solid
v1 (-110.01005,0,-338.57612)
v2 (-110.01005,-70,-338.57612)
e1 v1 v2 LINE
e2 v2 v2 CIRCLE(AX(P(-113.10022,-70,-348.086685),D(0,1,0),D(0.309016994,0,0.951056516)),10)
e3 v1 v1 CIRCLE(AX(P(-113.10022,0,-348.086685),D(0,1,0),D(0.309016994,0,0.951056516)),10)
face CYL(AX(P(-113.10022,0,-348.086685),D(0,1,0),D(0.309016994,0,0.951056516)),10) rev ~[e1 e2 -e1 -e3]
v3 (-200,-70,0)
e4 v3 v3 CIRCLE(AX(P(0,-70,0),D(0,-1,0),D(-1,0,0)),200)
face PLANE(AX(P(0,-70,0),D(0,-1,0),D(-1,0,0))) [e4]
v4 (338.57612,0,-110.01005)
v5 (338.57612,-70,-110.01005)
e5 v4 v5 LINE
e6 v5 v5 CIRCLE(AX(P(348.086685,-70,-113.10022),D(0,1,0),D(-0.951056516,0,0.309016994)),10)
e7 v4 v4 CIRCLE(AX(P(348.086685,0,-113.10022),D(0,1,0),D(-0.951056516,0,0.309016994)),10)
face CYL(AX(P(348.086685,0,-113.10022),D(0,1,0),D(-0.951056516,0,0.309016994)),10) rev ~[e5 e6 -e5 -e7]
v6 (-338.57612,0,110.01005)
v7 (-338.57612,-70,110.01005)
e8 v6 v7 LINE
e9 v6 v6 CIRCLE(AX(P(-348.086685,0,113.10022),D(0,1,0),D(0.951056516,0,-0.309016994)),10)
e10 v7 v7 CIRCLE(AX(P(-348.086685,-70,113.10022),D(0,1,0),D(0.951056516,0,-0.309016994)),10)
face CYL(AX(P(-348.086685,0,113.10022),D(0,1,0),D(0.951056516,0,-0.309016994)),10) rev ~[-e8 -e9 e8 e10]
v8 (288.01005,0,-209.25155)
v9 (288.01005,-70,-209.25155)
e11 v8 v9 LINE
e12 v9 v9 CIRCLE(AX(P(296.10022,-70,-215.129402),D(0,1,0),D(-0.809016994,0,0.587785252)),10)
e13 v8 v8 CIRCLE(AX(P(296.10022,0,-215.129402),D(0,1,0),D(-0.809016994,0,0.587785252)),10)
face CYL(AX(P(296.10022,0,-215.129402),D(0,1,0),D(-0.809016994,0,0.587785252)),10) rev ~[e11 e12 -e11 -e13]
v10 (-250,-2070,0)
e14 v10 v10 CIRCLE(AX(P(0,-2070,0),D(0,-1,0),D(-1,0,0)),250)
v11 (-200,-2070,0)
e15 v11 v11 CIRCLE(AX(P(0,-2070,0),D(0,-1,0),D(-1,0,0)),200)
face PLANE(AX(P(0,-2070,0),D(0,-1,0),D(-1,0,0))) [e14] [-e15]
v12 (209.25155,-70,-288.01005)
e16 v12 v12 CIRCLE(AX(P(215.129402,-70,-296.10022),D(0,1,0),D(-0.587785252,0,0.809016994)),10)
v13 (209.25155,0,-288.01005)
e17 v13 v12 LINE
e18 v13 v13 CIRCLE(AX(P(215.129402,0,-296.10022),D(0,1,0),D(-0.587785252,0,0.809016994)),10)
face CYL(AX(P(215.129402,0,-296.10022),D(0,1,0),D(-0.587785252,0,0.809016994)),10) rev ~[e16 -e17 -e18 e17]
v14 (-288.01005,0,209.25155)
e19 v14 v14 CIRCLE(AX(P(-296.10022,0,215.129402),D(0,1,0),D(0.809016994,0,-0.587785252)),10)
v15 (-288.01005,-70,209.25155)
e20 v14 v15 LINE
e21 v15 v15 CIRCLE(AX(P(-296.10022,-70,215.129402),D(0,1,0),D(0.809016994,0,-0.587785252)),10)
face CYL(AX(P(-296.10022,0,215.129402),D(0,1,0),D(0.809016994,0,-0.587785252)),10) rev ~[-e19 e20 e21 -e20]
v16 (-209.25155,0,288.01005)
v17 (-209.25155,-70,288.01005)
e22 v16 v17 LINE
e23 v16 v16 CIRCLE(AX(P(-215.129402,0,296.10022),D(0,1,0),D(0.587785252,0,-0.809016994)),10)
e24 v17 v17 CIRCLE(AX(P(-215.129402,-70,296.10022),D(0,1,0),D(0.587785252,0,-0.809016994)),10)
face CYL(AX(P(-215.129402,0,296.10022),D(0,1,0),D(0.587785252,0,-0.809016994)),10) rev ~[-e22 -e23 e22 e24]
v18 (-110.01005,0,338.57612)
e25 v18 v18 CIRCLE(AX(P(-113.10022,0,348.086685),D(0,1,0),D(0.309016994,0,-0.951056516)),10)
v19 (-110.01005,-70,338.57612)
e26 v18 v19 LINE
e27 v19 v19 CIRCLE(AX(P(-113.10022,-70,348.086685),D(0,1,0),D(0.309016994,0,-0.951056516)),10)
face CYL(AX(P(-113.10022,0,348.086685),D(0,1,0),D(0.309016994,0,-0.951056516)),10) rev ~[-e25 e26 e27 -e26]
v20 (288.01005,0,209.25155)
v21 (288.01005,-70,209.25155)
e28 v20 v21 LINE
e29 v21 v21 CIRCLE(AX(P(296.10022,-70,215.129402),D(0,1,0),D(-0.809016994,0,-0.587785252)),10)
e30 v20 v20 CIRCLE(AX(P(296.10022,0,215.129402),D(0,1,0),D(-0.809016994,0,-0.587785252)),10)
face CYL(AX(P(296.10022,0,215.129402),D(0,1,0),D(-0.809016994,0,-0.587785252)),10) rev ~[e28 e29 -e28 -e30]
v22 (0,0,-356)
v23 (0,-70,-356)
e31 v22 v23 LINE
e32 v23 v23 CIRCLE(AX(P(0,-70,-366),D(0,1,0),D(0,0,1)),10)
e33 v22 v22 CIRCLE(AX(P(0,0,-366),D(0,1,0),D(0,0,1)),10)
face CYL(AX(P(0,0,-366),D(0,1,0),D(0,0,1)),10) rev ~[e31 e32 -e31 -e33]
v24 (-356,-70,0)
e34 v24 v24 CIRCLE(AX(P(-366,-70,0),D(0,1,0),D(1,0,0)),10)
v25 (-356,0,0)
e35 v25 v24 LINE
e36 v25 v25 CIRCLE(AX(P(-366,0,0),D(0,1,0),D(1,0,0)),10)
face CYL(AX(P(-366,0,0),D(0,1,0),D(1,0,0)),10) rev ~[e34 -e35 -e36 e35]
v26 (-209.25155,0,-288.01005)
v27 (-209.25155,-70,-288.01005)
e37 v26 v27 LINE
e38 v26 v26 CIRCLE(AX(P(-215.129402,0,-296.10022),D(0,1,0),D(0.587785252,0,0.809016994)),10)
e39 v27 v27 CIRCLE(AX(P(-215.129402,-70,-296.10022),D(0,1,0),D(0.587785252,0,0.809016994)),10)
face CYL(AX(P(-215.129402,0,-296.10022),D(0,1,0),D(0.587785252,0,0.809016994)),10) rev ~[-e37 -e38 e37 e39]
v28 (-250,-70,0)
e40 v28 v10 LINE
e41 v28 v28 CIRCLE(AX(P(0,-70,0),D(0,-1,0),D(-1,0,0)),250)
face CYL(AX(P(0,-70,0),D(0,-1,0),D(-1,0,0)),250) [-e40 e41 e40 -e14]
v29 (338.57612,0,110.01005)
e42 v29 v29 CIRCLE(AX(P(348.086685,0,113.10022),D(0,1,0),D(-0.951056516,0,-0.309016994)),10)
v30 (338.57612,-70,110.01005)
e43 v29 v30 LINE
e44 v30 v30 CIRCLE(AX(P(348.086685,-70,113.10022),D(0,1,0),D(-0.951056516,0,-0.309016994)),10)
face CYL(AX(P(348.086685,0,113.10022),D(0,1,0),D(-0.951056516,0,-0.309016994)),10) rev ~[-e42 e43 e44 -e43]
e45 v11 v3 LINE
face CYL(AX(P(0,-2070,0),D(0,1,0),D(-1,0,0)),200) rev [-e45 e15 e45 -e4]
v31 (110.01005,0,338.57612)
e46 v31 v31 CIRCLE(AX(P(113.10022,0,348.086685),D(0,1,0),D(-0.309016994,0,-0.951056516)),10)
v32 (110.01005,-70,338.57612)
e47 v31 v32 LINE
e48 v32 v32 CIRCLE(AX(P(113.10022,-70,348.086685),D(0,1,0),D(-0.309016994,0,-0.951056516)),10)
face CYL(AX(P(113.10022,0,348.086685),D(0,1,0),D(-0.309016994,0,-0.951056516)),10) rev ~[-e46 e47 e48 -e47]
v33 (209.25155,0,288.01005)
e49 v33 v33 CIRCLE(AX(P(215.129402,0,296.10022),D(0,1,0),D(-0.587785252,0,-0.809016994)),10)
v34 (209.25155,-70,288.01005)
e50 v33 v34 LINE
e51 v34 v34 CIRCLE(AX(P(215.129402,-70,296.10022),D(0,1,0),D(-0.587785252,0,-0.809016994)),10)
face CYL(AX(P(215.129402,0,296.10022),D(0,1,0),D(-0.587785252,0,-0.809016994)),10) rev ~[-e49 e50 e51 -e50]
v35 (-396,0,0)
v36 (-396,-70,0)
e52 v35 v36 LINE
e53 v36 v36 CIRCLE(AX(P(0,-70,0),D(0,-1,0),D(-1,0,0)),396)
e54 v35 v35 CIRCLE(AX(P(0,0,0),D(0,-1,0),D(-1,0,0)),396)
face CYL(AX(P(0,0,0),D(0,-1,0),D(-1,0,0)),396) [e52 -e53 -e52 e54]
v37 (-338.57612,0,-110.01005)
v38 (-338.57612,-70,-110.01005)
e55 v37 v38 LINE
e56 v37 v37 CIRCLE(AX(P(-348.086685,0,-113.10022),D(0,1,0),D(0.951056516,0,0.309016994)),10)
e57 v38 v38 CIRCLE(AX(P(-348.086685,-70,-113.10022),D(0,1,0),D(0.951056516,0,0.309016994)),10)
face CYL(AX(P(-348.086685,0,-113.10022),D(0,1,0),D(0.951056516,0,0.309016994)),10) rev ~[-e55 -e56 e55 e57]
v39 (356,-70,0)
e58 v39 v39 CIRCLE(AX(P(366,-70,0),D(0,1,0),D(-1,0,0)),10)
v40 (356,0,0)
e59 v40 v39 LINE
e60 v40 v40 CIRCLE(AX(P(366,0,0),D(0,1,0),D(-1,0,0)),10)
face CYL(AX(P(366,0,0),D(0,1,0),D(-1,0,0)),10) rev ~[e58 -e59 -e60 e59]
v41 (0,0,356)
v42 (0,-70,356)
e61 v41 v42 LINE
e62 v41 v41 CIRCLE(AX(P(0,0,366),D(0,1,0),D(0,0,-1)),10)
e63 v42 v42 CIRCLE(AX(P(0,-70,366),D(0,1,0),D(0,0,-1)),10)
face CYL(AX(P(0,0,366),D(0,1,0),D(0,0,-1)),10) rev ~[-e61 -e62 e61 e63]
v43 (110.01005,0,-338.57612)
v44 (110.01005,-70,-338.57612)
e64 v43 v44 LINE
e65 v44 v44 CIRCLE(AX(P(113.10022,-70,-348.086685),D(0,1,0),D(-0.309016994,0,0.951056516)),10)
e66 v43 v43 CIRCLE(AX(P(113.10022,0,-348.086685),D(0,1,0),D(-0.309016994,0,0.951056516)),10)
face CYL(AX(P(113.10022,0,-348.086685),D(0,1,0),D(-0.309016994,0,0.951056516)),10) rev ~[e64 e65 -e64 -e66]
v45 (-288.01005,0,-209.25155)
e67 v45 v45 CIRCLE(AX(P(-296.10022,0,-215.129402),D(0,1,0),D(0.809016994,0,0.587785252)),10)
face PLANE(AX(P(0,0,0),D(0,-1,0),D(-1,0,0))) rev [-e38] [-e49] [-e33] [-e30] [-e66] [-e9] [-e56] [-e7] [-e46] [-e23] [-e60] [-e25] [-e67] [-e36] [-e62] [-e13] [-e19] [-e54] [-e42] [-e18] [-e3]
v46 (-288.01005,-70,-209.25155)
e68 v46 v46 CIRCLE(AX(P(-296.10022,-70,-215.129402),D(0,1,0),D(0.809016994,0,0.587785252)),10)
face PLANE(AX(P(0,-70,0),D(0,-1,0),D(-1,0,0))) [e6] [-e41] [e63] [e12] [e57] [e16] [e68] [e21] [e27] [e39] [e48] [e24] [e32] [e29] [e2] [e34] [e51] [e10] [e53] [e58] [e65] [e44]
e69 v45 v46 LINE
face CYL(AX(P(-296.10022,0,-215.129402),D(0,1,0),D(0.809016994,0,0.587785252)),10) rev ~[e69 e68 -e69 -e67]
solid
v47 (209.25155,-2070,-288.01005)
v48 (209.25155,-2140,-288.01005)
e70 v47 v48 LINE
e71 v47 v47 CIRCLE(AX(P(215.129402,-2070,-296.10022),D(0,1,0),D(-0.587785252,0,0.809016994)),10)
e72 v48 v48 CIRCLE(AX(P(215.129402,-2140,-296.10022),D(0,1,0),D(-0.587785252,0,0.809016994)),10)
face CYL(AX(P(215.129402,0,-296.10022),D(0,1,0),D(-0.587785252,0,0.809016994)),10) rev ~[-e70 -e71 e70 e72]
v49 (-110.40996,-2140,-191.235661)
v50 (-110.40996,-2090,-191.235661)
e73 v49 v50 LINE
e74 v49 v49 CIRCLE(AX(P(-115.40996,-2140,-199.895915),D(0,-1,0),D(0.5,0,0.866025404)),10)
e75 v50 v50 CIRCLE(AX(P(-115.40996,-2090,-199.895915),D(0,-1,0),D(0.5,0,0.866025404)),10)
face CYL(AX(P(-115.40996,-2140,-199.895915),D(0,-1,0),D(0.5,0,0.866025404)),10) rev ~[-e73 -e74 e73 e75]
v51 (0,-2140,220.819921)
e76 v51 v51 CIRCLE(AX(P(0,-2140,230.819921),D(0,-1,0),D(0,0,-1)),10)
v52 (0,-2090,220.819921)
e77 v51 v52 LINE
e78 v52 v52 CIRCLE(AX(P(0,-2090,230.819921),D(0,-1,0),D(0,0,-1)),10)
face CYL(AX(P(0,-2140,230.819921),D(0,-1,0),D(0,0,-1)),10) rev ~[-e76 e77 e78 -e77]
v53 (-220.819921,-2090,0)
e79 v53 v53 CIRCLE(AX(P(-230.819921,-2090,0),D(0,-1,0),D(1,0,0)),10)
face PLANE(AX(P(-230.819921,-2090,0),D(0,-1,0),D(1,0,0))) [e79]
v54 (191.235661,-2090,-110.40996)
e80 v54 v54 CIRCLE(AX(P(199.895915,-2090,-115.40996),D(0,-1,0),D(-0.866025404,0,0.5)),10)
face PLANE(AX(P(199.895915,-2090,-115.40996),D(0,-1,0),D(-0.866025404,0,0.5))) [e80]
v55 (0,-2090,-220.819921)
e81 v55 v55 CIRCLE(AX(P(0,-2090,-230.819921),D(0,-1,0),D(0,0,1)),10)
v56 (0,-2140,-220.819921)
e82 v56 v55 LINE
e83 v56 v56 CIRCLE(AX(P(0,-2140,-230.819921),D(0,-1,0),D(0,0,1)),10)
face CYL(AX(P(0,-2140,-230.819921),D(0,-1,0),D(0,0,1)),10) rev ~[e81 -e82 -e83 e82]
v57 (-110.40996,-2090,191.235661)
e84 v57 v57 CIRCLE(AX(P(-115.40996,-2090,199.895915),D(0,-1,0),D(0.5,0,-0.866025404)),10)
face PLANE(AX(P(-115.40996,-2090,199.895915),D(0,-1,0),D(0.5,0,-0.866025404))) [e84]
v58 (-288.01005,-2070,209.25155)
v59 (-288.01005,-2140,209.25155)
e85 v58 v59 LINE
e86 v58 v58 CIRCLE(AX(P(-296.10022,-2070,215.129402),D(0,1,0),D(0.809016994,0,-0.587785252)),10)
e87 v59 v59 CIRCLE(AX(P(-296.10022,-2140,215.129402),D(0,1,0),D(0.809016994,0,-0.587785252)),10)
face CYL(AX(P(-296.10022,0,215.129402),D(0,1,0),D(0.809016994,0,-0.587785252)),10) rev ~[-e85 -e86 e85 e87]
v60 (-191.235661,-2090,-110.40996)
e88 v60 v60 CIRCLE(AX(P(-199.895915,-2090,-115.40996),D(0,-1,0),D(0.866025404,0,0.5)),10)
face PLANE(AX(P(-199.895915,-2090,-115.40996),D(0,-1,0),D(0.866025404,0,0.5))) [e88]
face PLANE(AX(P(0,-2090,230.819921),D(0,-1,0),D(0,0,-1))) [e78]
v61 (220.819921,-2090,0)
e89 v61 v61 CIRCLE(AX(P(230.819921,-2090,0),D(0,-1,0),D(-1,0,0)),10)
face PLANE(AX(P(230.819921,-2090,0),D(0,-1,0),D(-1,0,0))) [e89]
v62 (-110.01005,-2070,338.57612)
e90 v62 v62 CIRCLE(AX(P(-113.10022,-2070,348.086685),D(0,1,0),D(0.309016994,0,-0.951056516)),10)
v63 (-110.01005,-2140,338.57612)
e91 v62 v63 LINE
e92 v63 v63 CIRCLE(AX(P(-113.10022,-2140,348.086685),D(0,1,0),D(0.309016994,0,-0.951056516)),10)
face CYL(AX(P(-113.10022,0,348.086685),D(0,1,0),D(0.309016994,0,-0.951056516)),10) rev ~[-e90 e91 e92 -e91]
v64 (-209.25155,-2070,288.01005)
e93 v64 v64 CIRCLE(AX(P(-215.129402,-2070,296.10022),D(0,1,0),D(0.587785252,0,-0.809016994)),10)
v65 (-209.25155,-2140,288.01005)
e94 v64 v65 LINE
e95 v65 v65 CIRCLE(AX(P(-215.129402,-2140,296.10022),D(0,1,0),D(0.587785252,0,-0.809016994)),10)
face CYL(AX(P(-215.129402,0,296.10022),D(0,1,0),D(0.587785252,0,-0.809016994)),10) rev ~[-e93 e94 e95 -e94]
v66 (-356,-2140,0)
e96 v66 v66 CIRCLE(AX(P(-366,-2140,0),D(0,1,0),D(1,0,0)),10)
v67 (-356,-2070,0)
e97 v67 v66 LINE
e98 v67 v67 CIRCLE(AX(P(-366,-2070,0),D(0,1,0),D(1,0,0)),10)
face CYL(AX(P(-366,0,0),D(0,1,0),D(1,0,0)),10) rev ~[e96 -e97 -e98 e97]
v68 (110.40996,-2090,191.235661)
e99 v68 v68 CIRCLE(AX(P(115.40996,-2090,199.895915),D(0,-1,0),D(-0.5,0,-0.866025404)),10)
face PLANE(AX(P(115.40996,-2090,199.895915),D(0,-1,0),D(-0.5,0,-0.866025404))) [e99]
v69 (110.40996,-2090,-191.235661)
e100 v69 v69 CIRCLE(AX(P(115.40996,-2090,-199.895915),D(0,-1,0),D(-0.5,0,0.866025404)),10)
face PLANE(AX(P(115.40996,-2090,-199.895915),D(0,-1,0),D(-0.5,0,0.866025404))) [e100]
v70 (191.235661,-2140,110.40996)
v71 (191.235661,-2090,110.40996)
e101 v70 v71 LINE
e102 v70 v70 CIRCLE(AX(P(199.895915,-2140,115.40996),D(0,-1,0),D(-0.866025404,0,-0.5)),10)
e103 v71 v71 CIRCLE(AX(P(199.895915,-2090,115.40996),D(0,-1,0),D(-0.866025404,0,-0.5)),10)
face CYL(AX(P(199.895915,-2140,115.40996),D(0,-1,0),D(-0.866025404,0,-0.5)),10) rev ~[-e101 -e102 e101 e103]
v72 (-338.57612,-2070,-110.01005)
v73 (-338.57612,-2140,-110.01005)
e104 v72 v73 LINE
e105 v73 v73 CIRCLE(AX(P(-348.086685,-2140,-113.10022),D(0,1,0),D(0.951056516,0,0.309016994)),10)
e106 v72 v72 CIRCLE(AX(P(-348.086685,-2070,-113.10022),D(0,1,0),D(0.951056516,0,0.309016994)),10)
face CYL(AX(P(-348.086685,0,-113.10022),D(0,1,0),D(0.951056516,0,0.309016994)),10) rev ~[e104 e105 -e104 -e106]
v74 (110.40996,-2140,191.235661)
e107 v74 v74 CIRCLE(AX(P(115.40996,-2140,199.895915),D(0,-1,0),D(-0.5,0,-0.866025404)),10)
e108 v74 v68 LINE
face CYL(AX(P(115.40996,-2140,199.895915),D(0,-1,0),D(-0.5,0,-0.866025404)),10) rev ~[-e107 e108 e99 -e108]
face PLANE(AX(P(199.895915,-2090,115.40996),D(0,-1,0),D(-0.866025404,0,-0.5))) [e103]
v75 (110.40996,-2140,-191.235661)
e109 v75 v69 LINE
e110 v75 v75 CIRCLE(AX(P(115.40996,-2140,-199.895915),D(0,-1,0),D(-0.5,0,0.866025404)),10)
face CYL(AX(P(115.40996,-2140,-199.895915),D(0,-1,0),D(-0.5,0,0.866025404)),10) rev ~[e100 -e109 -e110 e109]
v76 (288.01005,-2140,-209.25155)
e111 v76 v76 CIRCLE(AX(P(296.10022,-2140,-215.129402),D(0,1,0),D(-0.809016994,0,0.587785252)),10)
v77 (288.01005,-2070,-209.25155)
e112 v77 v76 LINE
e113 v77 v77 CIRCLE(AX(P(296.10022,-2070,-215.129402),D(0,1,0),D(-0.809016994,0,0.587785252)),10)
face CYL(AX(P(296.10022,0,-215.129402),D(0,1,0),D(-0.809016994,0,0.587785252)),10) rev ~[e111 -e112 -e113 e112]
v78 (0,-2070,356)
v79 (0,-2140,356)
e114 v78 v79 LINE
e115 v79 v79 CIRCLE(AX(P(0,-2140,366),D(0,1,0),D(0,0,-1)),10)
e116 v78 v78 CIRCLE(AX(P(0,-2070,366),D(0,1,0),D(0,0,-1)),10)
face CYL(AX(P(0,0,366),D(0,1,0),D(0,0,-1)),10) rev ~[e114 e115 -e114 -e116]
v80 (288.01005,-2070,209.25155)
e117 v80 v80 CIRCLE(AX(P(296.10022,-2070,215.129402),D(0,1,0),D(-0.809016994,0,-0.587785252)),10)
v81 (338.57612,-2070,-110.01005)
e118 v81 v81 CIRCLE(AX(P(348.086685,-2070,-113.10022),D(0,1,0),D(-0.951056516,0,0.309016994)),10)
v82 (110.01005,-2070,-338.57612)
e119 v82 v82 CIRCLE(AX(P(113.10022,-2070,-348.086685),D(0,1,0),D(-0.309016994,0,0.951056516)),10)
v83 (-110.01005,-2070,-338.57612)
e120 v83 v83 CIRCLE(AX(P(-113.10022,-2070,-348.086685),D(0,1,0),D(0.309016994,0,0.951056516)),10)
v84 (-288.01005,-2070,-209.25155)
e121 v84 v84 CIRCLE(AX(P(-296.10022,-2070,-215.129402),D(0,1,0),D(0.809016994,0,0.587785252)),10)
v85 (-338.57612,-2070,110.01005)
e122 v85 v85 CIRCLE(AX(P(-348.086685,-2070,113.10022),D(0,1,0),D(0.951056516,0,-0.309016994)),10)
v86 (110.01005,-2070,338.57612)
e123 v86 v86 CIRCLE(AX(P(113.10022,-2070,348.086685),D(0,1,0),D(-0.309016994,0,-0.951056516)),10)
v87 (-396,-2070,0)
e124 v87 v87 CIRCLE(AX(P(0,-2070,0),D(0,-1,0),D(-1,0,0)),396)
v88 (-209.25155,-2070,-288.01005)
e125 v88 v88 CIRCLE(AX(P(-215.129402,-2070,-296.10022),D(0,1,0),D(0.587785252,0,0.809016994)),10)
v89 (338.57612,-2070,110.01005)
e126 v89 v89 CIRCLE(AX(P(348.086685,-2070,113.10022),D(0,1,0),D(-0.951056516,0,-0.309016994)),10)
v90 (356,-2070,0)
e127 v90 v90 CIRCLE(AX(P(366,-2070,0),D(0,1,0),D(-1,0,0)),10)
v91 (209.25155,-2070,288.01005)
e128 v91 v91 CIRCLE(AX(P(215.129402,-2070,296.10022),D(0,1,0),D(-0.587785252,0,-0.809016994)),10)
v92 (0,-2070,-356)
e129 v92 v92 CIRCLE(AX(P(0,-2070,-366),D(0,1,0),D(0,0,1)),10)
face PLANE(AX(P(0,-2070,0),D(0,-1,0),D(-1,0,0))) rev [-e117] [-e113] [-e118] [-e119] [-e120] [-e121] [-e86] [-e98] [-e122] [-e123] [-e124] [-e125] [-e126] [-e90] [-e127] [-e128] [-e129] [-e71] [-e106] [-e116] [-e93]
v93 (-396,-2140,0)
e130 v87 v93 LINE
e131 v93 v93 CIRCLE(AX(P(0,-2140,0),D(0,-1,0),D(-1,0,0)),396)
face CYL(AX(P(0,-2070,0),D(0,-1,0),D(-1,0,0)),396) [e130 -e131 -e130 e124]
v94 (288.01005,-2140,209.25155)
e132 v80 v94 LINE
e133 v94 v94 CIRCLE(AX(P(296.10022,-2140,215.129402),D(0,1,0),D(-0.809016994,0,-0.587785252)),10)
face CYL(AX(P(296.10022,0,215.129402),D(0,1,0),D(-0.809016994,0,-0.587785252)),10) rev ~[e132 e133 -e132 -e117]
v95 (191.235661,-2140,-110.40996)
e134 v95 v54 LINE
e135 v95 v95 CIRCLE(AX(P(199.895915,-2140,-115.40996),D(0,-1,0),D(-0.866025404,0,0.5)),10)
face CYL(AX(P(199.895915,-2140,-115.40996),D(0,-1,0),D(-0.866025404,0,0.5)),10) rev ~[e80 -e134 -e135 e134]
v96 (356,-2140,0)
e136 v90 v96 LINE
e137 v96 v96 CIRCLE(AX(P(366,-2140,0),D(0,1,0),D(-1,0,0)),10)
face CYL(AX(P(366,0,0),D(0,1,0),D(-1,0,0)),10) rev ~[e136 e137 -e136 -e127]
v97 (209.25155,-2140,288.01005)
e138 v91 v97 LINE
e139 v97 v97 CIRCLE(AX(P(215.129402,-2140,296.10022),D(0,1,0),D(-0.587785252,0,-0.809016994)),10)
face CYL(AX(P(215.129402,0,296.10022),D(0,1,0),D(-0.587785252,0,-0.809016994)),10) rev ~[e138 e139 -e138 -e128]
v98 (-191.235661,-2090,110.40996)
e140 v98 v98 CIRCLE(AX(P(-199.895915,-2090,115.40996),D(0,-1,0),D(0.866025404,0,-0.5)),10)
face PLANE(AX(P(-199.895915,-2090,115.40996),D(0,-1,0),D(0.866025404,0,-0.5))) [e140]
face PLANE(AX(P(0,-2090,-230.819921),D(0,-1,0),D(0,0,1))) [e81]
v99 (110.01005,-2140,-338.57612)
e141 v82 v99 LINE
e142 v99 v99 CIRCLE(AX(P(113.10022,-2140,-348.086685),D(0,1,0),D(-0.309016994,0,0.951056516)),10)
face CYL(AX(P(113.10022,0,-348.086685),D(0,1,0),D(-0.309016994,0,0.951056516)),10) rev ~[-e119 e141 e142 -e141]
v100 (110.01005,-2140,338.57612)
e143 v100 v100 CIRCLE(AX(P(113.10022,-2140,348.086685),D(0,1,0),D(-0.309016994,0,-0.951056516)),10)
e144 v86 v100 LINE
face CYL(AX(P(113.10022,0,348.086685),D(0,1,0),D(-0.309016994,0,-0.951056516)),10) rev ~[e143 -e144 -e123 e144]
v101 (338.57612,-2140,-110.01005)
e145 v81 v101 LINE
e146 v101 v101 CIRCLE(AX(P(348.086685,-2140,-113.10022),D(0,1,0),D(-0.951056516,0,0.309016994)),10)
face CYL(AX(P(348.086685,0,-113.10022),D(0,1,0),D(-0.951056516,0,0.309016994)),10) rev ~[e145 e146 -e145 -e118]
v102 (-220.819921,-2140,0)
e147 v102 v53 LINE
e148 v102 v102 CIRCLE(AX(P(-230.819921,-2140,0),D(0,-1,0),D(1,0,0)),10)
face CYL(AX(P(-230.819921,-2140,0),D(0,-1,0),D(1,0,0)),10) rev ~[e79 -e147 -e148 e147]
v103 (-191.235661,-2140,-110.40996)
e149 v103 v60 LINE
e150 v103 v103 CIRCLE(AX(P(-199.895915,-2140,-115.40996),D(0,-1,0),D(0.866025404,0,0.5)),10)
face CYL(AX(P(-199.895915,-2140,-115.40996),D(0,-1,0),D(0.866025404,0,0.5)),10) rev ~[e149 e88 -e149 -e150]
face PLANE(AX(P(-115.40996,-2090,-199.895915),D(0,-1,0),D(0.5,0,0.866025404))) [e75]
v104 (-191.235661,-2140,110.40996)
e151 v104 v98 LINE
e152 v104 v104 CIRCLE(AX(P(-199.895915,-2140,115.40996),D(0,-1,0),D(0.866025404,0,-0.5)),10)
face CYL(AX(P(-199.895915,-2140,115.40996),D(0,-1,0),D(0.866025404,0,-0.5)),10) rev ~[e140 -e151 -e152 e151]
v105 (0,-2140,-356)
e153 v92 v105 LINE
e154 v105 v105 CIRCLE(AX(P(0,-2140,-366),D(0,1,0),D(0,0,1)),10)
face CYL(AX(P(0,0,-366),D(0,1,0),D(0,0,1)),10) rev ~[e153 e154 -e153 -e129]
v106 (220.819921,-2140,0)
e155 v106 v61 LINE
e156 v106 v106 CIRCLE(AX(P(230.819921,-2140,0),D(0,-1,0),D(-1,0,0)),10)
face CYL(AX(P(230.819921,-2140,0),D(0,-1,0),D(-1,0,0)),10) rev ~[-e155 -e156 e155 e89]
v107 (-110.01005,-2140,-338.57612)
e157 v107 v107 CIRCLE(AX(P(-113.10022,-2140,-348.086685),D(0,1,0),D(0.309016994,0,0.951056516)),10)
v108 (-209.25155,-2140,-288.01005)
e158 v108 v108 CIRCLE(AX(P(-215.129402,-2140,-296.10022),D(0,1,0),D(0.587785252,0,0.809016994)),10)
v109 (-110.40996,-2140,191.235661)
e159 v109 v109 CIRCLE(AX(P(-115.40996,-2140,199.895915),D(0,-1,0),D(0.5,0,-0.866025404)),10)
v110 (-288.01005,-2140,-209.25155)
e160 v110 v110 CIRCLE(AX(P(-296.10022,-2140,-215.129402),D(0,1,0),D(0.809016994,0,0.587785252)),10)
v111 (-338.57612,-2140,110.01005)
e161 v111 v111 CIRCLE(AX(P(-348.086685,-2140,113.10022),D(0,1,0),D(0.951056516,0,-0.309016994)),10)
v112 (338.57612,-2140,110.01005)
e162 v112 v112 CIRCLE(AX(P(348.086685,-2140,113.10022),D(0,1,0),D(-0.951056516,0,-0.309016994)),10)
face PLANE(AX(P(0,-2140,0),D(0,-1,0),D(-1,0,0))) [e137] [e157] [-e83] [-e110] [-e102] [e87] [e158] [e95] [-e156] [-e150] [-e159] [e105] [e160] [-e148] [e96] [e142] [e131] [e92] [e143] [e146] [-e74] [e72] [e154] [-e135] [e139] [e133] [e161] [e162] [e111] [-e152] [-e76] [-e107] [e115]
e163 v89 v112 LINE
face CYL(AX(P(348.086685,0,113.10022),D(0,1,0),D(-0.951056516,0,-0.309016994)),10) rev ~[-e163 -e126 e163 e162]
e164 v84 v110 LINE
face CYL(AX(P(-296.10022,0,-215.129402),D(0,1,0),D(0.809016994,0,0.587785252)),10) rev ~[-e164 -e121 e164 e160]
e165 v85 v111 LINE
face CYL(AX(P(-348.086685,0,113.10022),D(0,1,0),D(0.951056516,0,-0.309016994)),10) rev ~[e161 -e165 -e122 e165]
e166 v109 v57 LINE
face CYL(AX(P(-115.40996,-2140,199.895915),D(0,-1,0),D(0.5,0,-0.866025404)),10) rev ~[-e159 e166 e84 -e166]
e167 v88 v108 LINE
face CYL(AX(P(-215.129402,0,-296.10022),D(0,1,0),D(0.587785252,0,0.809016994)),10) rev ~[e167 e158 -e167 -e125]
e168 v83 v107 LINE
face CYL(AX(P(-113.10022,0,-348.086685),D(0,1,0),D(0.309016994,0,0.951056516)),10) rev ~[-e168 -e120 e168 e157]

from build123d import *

# Parameters (mm, degrees)
ESQUISSE2_R                  = 10
ENL_V_MAT_EXTRU_1_DEPTH      = 2213.0650985
R_P_TITION_CIRCULAIRE1_COUNT = 20
ESQUISSE4_R                  = 10
ENL_V_MAT_EXTRU_2_DEPTH      = 50
R_P_TITION_CIRCULAIRE2_COUNT = 12


with BuildPart() as part:
    # Esquisse1 → Révolution1 (revolve)
    with BuildSketch(Plane.XY, mode=Mode.PRIVATE) as r_volution1_sk:
        Polygon((0, 0), (396, 0), (396, -70), (250, -70), (250, -2070), (396, -2070), (396, -2140), (0, -2140), (0, -2070), (200, -2070), (200, -70), (0, -70), align=None)
    revolve(r_volution1_sk.sketch.rotate(Axis((0, 0, 0), (0, -1, 0)), 180), axis=Axis((0, 0, 0), (0, -1, 0)))

    # Esquisse2 → Enlèv. mat.-Extru.1 (cut, through all)
    with BuildSketch(Plane(origin=(0, 0, 0), x_dir=(1, 0, 0), z_dir=(0, 1, 0))):
        with Locations(Location((366, 0, 0), (0, 0, 180))):
            Circle(ESQUISSE2_R)
    enl_v_mat_extru_1 = extrude(amount=-ENL_V_MAT_EXTRU_1_DEPTH, mode=Mode.SUBTRACT)

    # Répétition circulaire1: Enlèv. mat.-Extru.1 ×20 about axis
    r_p_tition_circulaire1_axis = Axis((0, 0, 0), (0, 1, 0))
    for i in range(1, R_P_TITION_CIRCULAIRE1_COUNT):
        add(enl_v_mat_extru_1.rotate(r_p_tition_circulaire1_axis, i * 360 / R_P_TITION_CIRCULAIRE1_COUNT), mode=Mode.SUBTRACT)

    # Esquisse4 → Enlèv. mat.-Extru.2 (cut)
    with BuildSketch(Plane.XZ.offset(2140)):
        with Locations(Location((0, 230.819920557, 0), (0, 0, 270))):
            Circle(ESQUISSE4_R)
    enl_v_mat_extru_2 = extrude(amount=-ENL_V_MAT_EXTRU_2_DEPTH, mode=Mode.SUBTRACT)

    # Répétition circulaire2: Enlèv. mat.-Extru.2 ×12 about axis
    r_p_tition_circulaire2_axis = Axis((0, 0, 0), (0, 1, 0))
    for i in range(1, R_P_TITION_CIRCULAIRE2_COUNT):
        add(enl_v_mat_extru_2.rotate(r_p_tition_circulaire2_axis, i * 360 / R_P_TITION_CIRCULAIRE2_COUNT), mode=Mode.SUBTRACT)


with BuildPart() as body_2:
    # Fractionner1: the piece on the far side of the plane
    add(part.part)
    split(bisect_by=Plane(origin=(0, -2070, 0), x_dir=(-1, 0, 0), z_dir=(0, -1, 0)), keep=Keep.BOTTOM)


with BuildPart() as part_1:
    add(part.part)

    # Fractionner1
    split(bisect_by=Plane(origin=(0, -2070, 0), x_dir=(-1, 0, 0), z_dir=(0, -1, 0)), keep=Keep.TOP)


solid = Compound([body_2.part, part_1.part])
